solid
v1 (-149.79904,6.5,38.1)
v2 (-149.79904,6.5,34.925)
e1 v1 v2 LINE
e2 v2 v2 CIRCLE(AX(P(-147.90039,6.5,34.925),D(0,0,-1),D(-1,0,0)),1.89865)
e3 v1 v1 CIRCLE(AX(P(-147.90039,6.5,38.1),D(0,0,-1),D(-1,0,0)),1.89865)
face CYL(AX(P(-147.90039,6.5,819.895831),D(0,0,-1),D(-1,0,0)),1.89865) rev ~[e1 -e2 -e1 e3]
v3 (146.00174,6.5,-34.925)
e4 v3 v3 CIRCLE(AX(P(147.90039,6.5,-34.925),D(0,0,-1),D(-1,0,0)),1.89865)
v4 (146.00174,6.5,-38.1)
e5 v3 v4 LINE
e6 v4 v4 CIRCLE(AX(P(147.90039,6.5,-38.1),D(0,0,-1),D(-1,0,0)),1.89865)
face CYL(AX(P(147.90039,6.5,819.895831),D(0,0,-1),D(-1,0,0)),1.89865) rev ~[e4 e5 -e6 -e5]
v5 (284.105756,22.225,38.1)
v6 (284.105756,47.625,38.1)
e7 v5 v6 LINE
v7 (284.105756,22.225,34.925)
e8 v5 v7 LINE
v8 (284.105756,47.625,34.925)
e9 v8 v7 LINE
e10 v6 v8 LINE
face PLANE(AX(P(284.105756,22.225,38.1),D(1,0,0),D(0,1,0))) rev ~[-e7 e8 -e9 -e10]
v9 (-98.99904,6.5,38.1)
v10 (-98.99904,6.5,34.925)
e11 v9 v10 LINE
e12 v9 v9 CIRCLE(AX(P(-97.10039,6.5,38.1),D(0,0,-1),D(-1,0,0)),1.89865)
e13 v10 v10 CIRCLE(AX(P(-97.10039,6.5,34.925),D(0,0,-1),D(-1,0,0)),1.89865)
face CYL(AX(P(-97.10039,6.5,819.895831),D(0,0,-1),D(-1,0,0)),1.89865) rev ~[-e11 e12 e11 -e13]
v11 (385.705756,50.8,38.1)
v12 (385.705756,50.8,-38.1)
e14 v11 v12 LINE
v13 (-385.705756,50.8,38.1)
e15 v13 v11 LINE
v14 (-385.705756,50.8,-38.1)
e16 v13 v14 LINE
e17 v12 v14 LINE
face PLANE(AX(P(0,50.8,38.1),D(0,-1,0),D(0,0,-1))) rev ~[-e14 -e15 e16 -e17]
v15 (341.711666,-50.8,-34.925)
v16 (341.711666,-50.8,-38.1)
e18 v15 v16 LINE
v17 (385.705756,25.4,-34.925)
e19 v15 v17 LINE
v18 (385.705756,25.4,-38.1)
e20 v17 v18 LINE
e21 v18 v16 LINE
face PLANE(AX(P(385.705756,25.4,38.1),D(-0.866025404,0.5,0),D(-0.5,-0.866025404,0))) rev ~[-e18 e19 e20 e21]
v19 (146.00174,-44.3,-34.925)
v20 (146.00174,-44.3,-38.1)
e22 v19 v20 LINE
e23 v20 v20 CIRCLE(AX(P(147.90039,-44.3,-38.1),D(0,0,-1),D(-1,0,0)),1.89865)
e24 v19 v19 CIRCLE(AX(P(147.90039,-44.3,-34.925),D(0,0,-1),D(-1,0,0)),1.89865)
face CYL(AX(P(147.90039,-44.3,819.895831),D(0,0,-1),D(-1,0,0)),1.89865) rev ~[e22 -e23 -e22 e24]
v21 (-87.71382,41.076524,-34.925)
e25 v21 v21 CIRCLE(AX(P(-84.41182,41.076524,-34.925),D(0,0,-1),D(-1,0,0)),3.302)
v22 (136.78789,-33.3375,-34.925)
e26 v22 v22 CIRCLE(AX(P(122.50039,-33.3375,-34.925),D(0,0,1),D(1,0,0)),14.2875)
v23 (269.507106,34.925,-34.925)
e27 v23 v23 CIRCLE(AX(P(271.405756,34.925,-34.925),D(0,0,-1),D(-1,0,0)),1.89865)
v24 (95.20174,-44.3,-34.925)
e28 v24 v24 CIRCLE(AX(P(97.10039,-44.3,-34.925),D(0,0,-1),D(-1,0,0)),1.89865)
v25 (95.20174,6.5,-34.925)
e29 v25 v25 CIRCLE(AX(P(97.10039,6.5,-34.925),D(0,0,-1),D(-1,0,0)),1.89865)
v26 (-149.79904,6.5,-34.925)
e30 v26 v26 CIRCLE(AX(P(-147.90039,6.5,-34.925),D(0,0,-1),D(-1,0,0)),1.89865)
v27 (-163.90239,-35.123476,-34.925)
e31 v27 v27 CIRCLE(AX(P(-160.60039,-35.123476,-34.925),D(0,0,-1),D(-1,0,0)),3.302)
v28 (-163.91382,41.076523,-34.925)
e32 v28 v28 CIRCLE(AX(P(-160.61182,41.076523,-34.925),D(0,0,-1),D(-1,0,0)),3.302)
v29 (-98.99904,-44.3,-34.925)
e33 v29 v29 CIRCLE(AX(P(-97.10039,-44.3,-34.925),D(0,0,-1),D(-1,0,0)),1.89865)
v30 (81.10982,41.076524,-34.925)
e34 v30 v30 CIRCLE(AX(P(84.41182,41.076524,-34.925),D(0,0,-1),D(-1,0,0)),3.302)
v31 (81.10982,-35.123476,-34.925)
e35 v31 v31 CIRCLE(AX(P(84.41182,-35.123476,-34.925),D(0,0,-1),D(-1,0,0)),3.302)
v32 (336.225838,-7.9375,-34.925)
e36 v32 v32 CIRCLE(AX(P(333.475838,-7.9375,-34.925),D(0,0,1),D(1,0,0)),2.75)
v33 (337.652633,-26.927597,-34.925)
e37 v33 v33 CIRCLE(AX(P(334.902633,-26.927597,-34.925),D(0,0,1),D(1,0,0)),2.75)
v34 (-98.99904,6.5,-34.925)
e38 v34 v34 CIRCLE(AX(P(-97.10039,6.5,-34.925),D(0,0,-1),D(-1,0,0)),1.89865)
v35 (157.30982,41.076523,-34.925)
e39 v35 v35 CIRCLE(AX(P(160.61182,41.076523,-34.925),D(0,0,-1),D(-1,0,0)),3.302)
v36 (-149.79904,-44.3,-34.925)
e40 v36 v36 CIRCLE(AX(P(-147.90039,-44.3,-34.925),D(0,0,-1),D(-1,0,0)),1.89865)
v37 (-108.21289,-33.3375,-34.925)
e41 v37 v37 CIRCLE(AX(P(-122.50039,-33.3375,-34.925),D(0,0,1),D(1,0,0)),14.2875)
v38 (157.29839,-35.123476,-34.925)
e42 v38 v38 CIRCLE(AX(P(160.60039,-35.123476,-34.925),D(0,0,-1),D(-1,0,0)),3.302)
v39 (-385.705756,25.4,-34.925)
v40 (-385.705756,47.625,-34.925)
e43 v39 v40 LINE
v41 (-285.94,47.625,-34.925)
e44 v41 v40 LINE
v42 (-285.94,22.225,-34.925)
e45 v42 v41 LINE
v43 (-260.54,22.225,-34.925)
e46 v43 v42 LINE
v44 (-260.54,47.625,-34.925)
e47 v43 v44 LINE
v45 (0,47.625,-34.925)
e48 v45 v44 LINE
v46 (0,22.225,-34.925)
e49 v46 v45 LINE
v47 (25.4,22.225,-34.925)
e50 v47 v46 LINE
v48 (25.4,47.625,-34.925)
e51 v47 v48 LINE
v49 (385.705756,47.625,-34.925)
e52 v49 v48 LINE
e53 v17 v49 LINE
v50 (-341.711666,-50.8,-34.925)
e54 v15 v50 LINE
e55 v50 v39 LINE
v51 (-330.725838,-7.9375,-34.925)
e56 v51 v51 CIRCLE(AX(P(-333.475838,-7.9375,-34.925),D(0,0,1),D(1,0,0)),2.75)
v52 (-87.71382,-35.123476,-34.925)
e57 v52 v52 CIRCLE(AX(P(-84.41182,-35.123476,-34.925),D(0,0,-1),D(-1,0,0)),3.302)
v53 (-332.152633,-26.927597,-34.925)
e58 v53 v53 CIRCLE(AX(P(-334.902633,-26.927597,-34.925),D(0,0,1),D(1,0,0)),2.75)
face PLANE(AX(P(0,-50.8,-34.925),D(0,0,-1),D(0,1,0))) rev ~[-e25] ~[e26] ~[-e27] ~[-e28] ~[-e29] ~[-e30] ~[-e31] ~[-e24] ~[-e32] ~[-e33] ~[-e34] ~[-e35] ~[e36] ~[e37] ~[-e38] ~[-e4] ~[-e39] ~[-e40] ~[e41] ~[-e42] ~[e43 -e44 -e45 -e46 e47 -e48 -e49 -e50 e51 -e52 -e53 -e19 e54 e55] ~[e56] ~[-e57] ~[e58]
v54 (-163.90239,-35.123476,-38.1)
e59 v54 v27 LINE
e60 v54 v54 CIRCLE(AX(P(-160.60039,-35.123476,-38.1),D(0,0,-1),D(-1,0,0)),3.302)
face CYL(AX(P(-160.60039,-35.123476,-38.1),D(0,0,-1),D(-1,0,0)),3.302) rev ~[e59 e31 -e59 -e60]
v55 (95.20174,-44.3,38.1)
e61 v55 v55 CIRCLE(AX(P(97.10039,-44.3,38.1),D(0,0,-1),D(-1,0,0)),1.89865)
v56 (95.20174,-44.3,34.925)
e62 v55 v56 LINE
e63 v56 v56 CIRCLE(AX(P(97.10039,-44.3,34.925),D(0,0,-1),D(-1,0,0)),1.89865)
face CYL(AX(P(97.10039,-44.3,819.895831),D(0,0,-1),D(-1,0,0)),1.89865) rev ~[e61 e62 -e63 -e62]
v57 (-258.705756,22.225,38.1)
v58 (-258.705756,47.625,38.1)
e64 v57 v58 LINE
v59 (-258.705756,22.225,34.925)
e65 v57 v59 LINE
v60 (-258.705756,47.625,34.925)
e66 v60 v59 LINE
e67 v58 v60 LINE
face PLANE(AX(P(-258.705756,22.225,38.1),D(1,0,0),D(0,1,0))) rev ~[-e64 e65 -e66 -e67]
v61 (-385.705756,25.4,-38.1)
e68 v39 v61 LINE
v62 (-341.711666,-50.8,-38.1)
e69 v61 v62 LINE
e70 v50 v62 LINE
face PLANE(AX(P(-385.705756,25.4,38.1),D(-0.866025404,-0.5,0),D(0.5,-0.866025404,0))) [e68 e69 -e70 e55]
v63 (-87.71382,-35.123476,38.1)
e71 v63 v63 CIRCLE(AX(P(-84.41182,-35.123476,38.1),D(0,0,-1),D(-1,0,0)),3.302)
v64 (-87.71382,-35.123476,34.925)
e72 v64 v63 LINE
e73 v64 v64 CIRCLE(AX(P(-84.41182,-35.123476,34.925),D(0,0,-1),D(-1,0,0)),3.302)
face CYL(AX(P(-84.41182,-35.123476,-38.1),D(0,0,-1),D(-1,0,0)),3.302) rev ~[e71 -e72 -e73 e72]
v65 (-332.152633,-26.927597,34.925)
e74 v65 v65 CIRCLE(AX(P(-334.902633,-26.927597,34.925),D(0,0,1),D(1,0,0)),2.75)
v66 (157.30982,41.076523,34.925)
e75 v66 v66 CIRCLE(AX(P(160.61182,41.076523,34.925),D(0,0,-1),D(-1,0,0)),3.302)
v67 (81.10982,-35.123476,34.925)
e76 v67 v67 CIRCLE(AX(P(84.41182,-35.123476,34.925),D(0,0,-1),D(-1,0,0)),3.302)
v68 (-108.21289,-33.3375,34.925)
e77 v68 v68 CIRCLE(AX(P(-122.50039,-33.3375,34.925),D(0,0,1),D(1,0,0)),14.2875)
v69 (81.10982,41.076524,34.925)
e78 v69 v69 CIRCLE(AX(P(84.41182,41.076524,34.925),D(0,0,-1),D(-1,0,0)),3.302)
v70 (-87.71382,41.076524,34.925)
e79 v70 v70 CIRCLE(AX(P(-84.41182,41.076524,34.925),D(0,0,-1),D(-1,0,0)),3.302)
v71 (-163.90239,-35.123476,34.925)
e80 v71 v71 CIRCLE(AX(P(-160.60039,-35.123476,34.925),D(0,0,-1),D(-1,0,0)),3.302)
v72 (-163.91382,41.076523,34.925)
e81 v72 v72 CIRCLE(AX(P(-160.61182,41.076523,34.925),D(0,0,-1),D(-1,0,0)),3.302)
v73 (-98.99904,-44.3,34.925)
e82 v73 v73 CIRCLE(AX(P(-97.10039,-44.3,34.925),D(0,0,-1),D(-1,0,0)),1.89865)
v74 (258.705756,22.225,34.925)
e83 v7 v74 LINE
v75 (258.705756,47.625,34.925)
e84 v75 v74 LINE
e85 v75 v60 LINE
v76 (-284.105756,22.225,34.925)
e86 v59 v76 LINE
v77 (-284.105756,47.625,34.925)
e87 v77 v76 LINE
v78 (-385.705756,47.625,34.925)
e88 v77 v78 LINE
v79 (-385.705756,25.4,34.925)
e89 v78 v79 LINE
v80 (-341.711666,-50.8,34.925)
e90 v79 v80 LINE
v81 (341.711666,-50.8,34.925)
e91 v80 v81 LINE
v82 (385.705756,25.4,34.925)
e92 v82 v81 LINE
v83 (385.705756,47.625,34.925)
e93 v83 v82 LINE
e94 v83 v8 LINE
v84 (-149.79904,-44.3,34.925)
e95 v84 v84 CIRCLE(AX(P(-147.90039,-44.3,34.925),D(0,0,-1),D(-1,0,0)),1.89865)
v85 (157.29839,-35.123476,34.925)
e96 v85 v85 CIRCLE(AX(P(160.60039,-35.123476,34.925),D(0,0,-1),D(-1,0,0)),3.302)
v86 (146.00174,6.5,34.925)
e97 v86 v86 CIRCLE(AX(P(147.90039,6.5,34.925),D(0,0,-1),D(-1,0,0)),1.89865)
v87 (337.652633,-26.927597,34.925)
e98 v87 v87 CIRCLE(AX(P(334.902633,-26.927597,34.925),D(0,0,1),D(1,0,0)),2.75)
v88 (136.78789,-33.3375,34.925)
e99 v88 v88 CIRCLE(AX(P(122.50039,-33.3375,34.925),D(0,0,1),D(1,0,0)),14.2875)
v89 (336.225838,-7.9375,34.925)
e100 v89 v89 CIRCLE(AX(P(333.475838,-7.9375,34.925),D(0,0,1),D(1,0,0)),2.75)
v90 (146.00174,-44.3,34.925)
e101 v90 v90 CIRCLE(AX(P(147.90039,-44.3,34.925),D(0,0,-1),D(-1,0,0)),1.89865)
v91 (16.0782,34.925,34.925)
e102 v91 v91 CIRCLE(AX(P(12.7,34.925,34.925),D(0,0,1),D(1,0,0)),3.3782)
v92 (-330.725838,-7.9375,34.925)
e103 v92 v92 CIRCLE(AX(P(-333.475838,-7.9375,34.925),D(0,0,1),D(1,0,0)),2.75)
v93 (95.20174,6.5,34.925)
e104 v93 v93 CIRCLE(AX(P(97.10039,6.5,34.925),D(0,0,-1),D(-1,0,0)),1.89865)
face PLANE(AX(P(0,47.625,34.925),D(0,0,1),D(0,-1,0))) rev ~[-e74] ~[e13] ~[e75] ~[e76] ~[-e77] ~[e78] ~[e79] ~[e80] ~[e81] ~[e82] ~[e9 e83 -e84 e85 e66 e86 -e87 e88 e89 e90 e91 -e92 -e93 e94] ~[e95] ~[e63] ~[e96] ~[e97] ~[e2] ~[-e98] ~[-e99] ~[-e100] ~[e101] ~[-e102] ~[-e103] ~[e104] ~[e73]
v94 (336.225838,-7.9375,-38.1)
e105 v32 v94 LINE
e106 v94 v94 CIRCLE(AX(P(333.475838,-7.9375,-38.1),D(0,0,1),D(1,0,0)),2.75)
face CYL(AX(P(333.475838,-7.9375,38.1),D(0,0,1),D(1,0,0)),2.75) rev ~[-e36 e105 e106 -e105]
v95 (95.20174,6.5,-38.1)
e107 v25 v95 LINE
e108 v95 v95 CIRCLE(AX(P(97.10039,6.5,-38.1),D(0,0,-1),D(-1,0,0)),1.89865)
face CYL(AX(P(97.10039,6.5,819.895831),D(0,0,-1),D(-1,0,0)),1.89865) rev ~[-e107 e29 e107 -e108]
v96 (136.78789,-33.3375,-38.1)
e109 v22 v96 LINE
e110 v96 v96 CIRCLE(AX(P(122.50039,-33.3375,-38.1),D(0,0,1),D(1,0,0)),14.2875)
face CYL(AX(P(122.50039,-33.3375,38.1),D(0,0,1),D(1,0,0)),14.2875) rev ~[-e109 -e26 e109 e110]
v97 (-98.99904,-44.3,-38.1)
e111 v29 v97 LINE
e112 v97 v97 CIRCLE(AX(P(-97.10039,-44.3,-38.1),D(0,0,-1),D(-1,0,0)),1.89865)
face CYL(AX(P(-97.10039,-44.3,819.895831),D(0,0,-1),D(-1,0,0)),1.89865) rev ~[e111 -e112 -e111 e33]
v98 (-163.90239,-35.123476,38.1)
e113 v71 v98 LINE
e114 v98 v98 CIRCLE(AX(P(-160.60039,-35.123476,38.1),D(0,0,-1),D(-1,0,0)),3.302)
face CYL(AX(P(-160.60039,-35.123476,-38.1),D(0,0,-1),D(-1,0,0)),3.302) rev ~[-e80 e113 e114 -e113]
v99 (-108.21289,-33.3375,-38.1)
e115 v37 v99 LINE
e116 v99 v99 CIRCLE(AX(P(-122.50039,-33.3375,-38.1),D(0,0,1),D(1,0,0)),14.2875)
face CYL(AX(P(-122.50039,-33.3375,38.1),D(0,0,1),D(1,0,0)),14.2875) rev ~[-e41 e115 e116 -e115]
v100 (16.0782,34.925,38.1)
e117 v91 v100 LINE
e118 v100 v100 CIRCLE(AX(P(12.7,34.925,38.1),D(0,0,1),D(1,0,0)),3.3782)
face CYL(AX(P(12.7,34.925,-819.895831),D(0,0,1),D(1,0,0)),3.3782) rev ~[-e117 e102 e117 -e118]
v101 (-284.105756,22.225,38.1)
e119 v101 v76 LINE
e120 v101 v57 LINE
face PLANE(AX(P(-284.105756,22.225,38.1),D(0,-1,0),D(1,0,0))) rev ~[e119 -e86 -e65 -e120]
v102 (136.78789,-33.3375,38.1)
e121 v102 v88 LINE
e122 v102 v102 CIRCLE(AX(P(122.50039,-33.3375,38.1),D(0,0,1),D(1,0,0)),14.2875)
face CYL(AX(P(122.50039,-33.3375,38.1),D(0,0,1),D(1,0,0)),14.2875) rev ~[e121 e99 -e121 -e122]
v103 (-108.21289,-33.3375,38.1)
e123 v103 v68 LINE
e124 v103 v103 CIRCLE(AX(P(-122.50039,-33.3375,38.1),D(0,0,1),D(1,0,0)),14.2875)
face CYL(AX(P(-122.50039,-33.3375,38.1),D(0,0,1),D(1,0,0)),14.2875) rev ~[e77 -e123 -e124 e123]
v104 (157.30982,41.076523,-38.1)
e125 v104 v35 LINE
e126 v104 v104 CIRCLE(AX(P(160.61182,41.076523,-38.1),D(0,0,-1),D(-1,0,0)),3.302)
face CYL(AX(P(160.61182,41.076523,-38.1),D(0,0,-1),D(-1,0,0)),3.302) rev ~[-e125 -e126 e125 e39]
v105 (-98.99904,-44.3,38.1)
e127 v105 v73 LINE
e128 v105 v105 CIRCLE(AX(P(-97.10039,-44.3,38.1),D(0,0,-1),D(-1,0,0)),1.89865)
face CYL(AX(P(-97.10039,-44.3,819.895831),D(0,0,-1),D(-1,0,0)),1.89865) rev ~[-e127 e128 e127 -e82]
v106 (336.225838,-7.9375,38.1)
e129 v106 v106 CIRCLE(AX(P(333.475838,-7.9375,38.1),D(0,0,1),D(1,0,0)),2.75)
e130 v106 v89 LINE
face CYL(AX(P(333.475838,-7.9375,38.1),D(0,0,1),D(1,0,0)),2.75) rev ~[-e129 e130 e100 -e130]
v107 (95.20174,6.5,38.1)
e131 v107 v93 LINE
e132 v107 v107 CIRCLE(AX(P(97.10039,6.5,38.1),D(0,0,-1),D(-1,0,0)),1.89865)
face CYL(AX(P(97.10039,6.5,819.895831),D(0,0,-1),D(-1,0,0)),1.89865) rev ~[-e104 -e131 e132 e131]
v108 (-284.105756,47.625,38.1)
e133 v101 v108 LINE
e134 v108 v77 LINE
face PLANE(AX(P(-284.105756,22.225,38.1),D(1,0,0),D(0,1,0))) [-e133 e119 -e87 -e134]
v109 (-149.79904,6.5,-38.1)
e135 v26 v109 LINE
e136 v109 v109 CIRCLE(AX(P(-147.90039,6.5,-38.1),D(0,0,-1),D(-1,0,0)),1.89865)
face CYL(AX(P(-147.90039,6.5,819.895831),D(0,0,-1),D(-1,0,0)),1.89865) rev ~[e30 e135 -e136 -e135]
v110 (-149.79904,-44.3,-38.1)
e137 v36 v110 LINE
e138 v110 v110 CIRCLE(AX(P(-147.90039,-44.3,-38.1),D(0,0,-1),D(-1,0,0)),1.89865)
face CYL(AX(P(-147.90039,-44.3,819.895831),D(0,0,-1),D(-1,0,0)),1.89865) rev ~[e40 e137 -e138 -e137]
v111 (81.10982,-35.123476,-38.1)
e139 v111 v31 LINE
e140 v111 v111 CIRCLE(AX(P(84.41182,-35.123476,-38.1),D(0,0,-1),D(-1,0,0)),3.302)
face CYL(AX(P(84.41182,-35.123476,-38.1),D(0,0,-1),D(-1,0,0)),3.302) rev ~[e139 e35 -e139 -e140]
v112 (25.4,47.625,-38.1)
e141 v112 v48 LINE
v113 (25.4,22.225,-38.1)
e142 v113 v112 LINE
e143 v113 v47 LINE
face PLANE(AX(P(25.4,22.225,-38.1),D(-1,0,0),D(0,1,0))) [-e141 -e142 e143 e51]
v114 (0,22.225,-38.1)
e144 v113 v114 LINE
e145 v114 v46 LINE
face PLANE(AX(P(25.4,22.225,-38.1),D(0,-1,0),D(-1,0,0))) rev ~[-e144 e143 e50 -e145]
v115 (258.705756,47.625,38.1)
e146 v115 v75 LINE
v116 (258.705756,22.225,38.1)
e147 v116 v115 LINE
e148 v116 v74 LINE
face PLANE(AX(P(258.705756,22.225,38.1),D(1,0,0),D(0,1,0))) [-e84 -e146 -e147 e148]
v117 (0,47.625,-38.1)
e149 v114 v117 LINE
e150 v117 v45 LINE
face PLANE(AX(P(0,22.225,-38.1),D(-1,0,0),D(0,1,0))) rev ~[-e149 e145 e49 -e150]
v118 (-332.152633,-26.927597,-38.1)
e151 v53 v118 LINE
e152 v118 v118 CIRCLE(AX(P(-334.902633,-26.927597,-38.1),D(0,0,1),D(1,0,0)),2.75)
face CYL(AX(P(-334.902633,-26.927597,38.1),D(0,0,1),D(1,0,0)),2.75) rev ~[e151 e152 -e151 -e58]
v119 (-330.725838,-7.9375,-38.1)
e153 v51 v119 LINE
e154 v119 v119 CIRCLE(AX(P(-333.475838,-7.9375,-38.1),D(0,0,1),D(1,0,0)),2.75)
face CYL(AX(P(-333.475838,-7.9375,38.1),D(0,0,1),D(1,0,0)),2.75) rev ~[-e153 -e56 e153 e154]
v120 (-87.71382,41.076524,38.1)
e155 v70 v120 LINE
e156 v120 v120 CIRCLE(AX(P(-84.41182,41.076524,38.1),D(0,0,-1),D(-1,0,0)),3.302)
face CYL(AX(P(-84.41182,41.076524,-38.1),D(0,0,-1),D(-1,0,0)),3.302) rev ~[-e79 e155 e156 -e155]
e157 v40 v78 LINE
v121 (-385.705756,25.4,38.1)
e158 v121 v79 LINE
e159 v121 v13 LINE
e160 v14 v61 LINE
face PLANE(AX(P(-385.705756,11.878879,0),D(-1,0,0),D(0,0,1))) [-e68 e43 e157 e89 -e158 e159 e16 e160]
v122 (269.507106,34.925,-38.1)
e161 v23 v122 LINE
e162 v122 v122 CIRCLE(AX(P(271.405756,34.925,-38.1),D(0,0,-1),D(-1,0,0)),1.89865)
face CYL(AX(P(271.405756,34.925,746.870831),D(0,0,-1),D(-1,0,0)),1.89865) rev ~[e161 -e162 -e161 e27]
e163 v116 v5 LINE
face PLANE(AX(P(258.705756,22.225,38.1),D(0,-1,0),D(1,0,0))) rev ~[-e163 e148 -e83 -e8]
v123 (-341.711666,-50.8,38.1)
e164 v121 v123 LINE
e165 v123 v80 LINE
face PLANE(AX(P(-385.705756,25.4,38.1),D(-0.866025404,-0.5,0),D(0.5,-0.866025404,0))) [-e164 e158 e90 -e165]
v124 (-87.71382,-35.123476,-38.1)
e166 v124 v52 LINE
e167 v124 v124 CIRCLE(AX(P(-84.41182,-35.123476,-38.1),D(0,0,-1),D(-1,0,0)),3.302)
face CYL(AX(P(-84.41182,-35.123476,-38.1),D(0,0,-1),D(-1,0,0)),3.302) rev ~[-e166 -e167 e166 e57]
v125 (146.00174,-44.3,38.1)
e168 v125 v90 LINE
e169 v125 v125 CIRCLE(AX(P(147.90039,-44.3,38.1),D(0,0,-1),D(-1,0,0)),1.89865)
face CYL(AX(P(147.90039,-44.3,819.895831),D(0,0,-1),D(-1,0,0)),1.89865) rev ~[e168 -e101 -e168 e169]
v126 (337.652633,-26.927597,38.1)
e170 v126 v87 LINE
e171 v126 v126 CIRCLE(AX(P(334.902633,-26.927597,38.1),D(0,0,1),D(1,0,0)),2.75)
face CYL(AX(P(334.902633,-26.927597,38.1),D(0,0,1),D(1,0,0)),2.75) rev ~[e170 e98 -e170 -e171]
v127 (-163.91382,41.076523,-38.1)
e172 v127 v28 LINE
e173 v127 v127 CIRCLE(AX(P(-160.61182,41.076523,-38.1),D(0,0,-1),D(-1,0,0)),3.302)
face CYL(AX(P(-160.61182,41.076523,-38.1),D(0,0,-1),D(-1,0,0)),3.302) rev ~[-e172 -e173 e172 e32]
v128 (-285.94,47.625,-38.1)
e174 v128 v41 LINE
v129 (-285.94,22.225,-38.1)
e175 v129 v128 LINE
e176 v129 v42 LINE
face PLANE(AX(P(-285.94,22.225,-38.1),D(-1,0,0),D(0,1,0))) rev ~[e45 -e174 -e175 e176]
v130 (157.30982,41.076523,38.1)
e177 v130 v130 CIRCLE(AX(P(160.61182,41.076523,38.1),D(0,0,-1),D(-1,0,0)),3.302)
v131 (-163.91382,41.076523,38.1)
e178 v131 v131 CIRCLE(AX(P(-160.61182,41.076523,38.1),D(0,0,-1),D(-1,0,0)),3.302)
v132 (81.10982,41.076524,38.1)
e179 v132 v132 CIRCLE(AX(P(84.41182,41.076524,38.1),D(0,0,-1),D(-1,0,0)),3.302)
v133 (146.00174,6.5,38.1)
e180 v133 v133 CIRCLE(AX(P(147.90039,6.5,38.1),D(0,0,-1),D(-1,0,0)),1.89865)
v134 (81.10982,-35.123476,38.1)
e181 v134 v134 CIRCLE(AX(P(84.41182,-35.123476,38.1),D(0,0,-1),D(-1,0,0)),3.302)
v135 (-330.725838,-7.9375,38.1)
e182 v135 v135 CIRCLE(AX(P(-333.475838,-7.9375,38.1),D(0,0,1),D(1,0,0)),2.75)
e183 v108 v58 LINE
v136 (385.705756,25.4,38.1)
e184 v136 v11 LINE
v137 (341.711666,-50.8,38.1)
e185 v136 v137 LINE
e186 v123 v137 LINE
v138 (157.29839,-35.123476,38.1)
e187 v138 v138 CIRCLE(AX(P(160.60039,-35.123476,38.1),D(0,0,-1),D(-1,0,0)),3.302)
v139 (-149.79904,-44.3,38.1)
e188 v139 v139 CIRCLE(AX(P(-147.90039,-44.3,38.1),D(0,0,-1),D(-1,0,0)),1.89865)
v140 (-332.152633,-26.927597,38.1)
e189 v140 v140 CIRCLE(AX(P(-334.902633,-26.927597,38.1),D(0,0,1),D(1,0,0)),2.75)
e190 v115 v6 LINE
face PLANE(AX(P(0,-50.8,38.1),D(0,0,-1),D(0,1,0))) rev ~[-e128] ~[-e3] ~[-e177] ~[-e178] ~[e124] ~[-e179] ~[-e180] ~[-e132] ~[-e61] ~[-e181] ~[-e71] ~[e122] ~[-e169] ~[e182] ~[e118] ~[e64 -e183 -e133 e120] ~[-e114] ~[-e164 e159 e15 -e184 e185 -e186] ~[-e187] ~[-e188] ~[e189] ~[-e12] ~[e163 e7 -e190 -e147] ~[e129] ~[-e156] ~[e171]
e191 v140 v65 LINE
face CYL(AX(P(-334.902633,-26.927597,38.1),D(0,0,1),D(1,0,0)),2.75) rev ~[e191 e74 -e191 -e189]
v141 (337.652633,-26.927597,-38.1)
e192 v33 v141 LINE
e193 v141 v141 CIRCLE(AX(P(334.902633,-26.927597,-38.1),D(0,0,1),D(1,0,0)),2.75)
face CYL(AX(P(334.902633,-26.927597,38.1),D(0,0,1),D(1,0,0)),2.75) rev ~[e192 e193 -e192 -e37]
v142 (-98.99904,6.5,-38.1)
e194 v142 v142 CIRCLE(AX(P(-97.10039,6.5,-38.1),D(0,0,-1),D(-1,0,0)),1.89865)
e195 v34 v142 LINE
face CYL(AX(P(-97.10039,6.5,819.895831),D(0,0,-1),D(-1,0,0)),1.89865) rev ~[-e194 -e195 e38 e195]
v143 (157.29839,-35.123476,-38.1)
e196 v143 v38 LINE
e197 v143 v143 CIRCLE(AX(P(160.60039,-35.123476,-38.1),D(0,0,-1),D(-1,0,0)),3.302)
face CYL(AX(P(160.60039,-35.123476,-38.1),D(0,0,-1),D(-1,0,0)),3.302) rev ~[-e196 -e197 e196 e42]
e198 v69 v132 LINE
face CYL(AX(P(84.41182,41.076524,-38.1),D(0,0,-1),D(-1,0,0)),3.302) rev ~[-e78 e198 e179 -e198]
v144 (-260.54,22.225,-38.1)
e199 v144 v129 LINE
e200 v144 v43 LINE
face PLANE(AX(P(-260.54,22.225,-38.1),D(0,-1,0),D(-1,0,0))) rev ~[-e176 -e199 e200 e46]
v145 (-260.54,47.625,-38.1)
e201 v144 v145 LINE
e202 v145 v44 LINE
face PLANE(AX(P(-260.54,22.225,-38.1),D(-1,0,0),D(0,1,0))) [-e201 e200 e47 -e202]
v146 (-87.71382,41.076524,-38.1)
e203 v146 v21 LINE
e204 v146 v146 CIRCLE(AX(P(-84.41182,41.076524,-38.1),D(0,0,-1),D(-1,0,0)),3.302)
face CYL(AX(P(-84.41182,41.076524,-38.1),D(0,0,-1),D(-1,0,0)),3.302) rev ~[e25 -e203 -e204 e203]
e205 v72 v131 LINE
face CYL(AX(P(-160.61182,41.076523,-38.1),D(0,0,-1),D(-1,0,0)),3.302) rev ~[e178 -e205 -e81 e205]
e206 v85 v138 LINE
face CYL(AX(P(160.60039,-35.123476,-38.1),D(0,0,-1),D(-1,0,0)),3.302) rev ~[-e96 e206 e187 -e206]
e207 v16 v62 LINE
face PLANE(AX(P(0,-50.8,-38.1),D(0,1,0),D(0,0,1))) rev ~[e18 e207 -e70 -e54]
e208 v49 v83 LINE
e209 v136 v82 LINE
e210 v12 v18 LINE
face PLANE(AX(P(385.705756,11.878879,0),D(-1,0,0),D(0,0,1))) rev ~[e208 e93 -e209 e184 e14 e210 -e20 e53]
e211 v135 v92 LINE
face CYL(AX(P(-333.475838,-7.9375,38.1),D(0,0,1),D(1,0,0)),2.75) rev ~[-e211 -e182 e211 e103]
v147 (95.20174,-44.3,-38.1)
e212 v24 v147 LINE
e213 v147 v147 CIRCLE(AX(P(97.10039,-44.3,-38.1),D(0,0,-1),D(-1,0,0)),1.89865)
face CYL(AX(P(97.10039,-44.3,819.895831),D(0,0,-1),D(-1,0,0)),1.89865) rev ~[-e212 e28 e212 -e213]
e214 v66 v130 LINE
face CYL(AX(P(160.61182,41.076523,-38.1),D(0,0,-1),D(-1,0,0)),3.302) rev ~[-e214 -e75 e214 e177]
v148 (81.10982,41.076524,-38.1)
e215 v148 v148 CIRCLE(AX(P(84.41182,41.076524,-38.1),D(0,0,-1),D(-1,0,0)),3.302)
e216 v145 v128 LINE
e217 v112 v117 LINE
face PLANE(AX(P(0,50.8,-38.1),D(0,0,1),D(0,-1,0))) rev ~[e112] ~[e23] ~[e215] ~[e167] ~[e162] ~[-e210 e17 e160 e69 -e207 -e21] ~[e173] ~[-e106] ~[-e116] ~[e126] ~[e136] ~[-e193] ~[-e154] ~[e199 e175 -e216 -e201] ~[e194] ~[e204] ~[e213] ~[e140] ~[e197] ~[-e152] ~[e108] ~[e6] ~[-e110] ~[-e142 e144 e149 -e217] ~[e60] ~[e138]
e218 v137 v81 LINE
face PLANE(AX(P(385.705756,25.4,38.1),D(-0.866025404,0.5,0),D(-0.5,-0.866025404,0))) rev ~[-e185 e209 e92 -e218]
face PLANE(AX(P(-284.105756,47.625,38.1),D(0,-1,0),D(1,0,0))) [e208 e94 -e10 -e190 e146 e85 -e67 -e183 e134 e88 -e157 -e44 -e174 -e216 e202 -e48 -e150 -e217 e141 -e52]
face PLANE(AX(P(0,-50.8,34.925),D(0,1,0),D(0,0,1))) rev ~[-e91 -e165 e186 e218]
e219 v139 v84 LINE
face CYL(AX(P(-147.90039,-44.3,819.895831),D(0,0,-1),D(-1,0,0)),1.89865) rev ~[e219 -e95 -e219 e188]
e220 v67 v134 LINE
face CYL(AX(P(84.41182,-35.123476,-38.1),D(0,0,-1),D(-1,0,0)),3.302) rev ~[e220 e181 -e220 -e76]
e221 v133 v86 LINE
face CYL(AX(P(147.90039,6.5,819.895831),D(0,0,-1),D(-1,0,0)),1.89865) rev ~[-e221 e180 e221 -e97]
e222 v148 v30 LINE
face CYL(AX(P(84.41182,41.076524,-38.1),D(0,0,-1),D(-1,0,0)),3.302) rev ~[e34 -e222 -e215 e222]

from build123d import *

# Parameters (mm, degrees)
BOSS_EXTRUDE1_DEPTH     = 385.705756272
SKETCH2_R               = 2.749999961
SKETCH2_R_2             = 14.2875
SKETCH2_R_3             = 2.75
CUT_EXTRUDE1_DEPTH      = 141.732
SKETCH14_R              = 3.302
CUT_EXTRUDE12_DEPTH     = 77.2
CUT_EXTRUDE13_DEPTH     = 101.6
SKETCH17_W              = 25.4
SKETCH17_H              = 25.4
CUT_EXTRUDE19_DEPTH     = 25.4
F_1_4_CLEARANCE_HOLE1_D = 6.7564
F_6_CLEARANCE_HOLE1_D   = 3.7973
CUT_EXTRUDE20_REACH     = 78.2
SKETCH25_W              = 25.4
SKETCH25_H              = 25.4
F_6_CLEARANCE_HOLE2_D   = 3.7973


with BuildPart() as part:
    # Sketch1 → Boss-Extrude1 (new body, symmetric)
    with BuildSketch(Plane(origin=(0, 0, 0), x_dir=(0, 0, -1), z_dir=(1, 0, 0))):
        Polygon((-38.1, 50.8), (38.1, 50.8), (38.1, -50.8), (34.925, -50.8), (34.925, 47.625), (-34.925, 47.625), (-34.925, -50.8), (-38.1, -50.8), align=None)
    extrude(amount=BOSS_EXTRUDE1_DEPTH, both=True)

    # Sketch2 → Cut-Extrude1 (cut)
    with BuildSketch(Plane.XY.offset(38.1)):
        with Locations((-333.475837626, -7.9375)):
            Circle(SKETCH2_R)
        with Locations((122.50039, -33.3375)):
            Circle(SKETCH2_R_2)
        with Locations((333.475837626, -7.9375)):
            Circle(SKETCH2_R)
        with Locations((334.902632555, -26.927596819)):
            Circle(SKETCH2_R_3)
        with Locations((-122.50039, -33.3375)):
            Circle(SKETCH2_R_2)
        with Locations((-334.902632555, -26.927596819)):
            Circle(SKETCH2_R_3)
    extrude(amount=-CUT_EXTRUDE1_DEPTH, mode=Mode.SUBTRACT)

    # Sketch14 → Cut-Extrude12 (cut, through all)
    with BuildSketch(Plane(origin=(0, 0, -38.1), x_dir=(-1, 0, 0), z_dir=(0, 0, -1))):
        with Locations((-160.60039, -35.123476108)):
            Circle(SKETCH14_R)
        with Locations((-160.61182, 41.076523035)):
            Circle(SKETCH14_R)
        with Locations((-84.41182, 41.076523892)):
            Circle(SKETCH14_R)
        with Locations((-84.41182, -35.123476108)):
            Circle(SKETCH14_R)
        with Locations((160.60039, -35.123476108)):
            Circle(SKETCH14_R)
        with Locations((84.41182, -35.123476108)):
            Circle(SKETCH14_R)
        with Locations((84.41182, 41.076523892)):
            Circle(SKETCH14_R)
        with Locations((160.61182, 41.076523035)):
            Circle(SKETCH14_R)
    extrude(amount=-CUT_EXTRUDE12_DEPTH, mode=Mode.SUBTRACT)

    # Sketch16 → Cut-Extrude13 (cut)
    with BuildSketch(Plane.XY.offset(38.1)):
        Polygon((-385.705756272, 25.4), (-341.71166576, -50.8), (-385.705756272, -50.8), align=None)
        Polygon((341.71166576, -50.8), (385.705756272, -50.8), (385.705756272, 25.4), align=None)
    extrude(amount=-CUT_EXTRUDE13_DEPTH, mode=Mode.SUBTRACT)

    # Sketch17 → Cut-Extrude19 (cut)
    with BuildSketch(Plane(origin=(0, 0, -38.1), x_dir=(-1, 0, 0), z_dir=(0, 0, -1))):
        with Locations((-12.7, 34.925)):
            Rectangle(SKETCH17_W, SKETCH17_H)
        with Locations((273.24, 34.925)):
            Rectangle(SKETCH17_W, SKETCH17_H)
    extrude(amount=-CUT_EXTRUDE19_DEPTH, mode=Mode.SUBTRACT)

    # 1/4 Clearance Hole1 (through all)
    with Locations(Plane(origin=(0, 0, -38.1), x_dir=(-1, 0, 0), z_dir=(0, 0, -1))):
        with Locations((-12.7, 34.925), (273.24, 34.925)):
            Hole(F_1_4_CLEARANCE_HOLE1_D / 2)

    # #6 Clearance Hole1 (through all)
    with Locations(Plane.XY.offset(38.1)):
        with Locations((-147.90039, -44.3), (-97.10039, -44.3), (97.10039, -44.3), (147.90039, -44.3), (-147.90039, 6.5), (-97.10039, 6.5), (97.10039, 6.5), (147.90039, 6.5)):
            Hole(F_6_CLEARANCE_HOLE1_D / 2)

    # Sketch25 → Cut-Extrude20 (cut, up to next)
    with BuildSketch(Plane.XY.offset(38.1), mode=Mode.PRIVATE) as cut_extrude20_sk1:
        with Locations((271.405756272, 34.925)):
            Rectangle(SKETCH25_W, SKETCH25_H)
    cut_extrude20_tool1 = extrude(cut_extrude20_sk1.sketch, amount=-CUT_EXTRUDE20_REACH, mode=Mode.PRIVATE) & part.part
    add(cut_extrude20_tool1.solids().sort_by_distance((271.405756, 34.925, 38.1))[0], mode=Mode.SUBTRACT)
    # Sketch25 → Cut-Extrude20 (cut, up to next)
    with BuildSketch(Plane.XY.offset(38.1), mode=Mode.PRIVATE) as cut_extrude20_sk2:
        with Locations((-271.405756272, 34.925)):
            Rectangle(SKETCH25_W, SKETCH25_H)
    cut_extrude20_tool2 = extrude(cut_extrude20_sk2.sketch, amount=-CUT_EXTRUDE20_REACH, mode=Mode.PRIVATE) & part.part
    add(cut_extrude20_tool2.solids().sort_by_distance((-271.405756, 34.925, 38.1))[0], mode=Mode.SUBTRACT)

    # #6 Clearance Hole2 (through all)
    with Locations(Plane.XY.offset(-34.925)):
        with Locations((-271.405756272, 34.925), (271.405756272, 34.925)):
            Hole(F_6_CLEARANCE_HOLE2_D / 2)


solid = part.part
